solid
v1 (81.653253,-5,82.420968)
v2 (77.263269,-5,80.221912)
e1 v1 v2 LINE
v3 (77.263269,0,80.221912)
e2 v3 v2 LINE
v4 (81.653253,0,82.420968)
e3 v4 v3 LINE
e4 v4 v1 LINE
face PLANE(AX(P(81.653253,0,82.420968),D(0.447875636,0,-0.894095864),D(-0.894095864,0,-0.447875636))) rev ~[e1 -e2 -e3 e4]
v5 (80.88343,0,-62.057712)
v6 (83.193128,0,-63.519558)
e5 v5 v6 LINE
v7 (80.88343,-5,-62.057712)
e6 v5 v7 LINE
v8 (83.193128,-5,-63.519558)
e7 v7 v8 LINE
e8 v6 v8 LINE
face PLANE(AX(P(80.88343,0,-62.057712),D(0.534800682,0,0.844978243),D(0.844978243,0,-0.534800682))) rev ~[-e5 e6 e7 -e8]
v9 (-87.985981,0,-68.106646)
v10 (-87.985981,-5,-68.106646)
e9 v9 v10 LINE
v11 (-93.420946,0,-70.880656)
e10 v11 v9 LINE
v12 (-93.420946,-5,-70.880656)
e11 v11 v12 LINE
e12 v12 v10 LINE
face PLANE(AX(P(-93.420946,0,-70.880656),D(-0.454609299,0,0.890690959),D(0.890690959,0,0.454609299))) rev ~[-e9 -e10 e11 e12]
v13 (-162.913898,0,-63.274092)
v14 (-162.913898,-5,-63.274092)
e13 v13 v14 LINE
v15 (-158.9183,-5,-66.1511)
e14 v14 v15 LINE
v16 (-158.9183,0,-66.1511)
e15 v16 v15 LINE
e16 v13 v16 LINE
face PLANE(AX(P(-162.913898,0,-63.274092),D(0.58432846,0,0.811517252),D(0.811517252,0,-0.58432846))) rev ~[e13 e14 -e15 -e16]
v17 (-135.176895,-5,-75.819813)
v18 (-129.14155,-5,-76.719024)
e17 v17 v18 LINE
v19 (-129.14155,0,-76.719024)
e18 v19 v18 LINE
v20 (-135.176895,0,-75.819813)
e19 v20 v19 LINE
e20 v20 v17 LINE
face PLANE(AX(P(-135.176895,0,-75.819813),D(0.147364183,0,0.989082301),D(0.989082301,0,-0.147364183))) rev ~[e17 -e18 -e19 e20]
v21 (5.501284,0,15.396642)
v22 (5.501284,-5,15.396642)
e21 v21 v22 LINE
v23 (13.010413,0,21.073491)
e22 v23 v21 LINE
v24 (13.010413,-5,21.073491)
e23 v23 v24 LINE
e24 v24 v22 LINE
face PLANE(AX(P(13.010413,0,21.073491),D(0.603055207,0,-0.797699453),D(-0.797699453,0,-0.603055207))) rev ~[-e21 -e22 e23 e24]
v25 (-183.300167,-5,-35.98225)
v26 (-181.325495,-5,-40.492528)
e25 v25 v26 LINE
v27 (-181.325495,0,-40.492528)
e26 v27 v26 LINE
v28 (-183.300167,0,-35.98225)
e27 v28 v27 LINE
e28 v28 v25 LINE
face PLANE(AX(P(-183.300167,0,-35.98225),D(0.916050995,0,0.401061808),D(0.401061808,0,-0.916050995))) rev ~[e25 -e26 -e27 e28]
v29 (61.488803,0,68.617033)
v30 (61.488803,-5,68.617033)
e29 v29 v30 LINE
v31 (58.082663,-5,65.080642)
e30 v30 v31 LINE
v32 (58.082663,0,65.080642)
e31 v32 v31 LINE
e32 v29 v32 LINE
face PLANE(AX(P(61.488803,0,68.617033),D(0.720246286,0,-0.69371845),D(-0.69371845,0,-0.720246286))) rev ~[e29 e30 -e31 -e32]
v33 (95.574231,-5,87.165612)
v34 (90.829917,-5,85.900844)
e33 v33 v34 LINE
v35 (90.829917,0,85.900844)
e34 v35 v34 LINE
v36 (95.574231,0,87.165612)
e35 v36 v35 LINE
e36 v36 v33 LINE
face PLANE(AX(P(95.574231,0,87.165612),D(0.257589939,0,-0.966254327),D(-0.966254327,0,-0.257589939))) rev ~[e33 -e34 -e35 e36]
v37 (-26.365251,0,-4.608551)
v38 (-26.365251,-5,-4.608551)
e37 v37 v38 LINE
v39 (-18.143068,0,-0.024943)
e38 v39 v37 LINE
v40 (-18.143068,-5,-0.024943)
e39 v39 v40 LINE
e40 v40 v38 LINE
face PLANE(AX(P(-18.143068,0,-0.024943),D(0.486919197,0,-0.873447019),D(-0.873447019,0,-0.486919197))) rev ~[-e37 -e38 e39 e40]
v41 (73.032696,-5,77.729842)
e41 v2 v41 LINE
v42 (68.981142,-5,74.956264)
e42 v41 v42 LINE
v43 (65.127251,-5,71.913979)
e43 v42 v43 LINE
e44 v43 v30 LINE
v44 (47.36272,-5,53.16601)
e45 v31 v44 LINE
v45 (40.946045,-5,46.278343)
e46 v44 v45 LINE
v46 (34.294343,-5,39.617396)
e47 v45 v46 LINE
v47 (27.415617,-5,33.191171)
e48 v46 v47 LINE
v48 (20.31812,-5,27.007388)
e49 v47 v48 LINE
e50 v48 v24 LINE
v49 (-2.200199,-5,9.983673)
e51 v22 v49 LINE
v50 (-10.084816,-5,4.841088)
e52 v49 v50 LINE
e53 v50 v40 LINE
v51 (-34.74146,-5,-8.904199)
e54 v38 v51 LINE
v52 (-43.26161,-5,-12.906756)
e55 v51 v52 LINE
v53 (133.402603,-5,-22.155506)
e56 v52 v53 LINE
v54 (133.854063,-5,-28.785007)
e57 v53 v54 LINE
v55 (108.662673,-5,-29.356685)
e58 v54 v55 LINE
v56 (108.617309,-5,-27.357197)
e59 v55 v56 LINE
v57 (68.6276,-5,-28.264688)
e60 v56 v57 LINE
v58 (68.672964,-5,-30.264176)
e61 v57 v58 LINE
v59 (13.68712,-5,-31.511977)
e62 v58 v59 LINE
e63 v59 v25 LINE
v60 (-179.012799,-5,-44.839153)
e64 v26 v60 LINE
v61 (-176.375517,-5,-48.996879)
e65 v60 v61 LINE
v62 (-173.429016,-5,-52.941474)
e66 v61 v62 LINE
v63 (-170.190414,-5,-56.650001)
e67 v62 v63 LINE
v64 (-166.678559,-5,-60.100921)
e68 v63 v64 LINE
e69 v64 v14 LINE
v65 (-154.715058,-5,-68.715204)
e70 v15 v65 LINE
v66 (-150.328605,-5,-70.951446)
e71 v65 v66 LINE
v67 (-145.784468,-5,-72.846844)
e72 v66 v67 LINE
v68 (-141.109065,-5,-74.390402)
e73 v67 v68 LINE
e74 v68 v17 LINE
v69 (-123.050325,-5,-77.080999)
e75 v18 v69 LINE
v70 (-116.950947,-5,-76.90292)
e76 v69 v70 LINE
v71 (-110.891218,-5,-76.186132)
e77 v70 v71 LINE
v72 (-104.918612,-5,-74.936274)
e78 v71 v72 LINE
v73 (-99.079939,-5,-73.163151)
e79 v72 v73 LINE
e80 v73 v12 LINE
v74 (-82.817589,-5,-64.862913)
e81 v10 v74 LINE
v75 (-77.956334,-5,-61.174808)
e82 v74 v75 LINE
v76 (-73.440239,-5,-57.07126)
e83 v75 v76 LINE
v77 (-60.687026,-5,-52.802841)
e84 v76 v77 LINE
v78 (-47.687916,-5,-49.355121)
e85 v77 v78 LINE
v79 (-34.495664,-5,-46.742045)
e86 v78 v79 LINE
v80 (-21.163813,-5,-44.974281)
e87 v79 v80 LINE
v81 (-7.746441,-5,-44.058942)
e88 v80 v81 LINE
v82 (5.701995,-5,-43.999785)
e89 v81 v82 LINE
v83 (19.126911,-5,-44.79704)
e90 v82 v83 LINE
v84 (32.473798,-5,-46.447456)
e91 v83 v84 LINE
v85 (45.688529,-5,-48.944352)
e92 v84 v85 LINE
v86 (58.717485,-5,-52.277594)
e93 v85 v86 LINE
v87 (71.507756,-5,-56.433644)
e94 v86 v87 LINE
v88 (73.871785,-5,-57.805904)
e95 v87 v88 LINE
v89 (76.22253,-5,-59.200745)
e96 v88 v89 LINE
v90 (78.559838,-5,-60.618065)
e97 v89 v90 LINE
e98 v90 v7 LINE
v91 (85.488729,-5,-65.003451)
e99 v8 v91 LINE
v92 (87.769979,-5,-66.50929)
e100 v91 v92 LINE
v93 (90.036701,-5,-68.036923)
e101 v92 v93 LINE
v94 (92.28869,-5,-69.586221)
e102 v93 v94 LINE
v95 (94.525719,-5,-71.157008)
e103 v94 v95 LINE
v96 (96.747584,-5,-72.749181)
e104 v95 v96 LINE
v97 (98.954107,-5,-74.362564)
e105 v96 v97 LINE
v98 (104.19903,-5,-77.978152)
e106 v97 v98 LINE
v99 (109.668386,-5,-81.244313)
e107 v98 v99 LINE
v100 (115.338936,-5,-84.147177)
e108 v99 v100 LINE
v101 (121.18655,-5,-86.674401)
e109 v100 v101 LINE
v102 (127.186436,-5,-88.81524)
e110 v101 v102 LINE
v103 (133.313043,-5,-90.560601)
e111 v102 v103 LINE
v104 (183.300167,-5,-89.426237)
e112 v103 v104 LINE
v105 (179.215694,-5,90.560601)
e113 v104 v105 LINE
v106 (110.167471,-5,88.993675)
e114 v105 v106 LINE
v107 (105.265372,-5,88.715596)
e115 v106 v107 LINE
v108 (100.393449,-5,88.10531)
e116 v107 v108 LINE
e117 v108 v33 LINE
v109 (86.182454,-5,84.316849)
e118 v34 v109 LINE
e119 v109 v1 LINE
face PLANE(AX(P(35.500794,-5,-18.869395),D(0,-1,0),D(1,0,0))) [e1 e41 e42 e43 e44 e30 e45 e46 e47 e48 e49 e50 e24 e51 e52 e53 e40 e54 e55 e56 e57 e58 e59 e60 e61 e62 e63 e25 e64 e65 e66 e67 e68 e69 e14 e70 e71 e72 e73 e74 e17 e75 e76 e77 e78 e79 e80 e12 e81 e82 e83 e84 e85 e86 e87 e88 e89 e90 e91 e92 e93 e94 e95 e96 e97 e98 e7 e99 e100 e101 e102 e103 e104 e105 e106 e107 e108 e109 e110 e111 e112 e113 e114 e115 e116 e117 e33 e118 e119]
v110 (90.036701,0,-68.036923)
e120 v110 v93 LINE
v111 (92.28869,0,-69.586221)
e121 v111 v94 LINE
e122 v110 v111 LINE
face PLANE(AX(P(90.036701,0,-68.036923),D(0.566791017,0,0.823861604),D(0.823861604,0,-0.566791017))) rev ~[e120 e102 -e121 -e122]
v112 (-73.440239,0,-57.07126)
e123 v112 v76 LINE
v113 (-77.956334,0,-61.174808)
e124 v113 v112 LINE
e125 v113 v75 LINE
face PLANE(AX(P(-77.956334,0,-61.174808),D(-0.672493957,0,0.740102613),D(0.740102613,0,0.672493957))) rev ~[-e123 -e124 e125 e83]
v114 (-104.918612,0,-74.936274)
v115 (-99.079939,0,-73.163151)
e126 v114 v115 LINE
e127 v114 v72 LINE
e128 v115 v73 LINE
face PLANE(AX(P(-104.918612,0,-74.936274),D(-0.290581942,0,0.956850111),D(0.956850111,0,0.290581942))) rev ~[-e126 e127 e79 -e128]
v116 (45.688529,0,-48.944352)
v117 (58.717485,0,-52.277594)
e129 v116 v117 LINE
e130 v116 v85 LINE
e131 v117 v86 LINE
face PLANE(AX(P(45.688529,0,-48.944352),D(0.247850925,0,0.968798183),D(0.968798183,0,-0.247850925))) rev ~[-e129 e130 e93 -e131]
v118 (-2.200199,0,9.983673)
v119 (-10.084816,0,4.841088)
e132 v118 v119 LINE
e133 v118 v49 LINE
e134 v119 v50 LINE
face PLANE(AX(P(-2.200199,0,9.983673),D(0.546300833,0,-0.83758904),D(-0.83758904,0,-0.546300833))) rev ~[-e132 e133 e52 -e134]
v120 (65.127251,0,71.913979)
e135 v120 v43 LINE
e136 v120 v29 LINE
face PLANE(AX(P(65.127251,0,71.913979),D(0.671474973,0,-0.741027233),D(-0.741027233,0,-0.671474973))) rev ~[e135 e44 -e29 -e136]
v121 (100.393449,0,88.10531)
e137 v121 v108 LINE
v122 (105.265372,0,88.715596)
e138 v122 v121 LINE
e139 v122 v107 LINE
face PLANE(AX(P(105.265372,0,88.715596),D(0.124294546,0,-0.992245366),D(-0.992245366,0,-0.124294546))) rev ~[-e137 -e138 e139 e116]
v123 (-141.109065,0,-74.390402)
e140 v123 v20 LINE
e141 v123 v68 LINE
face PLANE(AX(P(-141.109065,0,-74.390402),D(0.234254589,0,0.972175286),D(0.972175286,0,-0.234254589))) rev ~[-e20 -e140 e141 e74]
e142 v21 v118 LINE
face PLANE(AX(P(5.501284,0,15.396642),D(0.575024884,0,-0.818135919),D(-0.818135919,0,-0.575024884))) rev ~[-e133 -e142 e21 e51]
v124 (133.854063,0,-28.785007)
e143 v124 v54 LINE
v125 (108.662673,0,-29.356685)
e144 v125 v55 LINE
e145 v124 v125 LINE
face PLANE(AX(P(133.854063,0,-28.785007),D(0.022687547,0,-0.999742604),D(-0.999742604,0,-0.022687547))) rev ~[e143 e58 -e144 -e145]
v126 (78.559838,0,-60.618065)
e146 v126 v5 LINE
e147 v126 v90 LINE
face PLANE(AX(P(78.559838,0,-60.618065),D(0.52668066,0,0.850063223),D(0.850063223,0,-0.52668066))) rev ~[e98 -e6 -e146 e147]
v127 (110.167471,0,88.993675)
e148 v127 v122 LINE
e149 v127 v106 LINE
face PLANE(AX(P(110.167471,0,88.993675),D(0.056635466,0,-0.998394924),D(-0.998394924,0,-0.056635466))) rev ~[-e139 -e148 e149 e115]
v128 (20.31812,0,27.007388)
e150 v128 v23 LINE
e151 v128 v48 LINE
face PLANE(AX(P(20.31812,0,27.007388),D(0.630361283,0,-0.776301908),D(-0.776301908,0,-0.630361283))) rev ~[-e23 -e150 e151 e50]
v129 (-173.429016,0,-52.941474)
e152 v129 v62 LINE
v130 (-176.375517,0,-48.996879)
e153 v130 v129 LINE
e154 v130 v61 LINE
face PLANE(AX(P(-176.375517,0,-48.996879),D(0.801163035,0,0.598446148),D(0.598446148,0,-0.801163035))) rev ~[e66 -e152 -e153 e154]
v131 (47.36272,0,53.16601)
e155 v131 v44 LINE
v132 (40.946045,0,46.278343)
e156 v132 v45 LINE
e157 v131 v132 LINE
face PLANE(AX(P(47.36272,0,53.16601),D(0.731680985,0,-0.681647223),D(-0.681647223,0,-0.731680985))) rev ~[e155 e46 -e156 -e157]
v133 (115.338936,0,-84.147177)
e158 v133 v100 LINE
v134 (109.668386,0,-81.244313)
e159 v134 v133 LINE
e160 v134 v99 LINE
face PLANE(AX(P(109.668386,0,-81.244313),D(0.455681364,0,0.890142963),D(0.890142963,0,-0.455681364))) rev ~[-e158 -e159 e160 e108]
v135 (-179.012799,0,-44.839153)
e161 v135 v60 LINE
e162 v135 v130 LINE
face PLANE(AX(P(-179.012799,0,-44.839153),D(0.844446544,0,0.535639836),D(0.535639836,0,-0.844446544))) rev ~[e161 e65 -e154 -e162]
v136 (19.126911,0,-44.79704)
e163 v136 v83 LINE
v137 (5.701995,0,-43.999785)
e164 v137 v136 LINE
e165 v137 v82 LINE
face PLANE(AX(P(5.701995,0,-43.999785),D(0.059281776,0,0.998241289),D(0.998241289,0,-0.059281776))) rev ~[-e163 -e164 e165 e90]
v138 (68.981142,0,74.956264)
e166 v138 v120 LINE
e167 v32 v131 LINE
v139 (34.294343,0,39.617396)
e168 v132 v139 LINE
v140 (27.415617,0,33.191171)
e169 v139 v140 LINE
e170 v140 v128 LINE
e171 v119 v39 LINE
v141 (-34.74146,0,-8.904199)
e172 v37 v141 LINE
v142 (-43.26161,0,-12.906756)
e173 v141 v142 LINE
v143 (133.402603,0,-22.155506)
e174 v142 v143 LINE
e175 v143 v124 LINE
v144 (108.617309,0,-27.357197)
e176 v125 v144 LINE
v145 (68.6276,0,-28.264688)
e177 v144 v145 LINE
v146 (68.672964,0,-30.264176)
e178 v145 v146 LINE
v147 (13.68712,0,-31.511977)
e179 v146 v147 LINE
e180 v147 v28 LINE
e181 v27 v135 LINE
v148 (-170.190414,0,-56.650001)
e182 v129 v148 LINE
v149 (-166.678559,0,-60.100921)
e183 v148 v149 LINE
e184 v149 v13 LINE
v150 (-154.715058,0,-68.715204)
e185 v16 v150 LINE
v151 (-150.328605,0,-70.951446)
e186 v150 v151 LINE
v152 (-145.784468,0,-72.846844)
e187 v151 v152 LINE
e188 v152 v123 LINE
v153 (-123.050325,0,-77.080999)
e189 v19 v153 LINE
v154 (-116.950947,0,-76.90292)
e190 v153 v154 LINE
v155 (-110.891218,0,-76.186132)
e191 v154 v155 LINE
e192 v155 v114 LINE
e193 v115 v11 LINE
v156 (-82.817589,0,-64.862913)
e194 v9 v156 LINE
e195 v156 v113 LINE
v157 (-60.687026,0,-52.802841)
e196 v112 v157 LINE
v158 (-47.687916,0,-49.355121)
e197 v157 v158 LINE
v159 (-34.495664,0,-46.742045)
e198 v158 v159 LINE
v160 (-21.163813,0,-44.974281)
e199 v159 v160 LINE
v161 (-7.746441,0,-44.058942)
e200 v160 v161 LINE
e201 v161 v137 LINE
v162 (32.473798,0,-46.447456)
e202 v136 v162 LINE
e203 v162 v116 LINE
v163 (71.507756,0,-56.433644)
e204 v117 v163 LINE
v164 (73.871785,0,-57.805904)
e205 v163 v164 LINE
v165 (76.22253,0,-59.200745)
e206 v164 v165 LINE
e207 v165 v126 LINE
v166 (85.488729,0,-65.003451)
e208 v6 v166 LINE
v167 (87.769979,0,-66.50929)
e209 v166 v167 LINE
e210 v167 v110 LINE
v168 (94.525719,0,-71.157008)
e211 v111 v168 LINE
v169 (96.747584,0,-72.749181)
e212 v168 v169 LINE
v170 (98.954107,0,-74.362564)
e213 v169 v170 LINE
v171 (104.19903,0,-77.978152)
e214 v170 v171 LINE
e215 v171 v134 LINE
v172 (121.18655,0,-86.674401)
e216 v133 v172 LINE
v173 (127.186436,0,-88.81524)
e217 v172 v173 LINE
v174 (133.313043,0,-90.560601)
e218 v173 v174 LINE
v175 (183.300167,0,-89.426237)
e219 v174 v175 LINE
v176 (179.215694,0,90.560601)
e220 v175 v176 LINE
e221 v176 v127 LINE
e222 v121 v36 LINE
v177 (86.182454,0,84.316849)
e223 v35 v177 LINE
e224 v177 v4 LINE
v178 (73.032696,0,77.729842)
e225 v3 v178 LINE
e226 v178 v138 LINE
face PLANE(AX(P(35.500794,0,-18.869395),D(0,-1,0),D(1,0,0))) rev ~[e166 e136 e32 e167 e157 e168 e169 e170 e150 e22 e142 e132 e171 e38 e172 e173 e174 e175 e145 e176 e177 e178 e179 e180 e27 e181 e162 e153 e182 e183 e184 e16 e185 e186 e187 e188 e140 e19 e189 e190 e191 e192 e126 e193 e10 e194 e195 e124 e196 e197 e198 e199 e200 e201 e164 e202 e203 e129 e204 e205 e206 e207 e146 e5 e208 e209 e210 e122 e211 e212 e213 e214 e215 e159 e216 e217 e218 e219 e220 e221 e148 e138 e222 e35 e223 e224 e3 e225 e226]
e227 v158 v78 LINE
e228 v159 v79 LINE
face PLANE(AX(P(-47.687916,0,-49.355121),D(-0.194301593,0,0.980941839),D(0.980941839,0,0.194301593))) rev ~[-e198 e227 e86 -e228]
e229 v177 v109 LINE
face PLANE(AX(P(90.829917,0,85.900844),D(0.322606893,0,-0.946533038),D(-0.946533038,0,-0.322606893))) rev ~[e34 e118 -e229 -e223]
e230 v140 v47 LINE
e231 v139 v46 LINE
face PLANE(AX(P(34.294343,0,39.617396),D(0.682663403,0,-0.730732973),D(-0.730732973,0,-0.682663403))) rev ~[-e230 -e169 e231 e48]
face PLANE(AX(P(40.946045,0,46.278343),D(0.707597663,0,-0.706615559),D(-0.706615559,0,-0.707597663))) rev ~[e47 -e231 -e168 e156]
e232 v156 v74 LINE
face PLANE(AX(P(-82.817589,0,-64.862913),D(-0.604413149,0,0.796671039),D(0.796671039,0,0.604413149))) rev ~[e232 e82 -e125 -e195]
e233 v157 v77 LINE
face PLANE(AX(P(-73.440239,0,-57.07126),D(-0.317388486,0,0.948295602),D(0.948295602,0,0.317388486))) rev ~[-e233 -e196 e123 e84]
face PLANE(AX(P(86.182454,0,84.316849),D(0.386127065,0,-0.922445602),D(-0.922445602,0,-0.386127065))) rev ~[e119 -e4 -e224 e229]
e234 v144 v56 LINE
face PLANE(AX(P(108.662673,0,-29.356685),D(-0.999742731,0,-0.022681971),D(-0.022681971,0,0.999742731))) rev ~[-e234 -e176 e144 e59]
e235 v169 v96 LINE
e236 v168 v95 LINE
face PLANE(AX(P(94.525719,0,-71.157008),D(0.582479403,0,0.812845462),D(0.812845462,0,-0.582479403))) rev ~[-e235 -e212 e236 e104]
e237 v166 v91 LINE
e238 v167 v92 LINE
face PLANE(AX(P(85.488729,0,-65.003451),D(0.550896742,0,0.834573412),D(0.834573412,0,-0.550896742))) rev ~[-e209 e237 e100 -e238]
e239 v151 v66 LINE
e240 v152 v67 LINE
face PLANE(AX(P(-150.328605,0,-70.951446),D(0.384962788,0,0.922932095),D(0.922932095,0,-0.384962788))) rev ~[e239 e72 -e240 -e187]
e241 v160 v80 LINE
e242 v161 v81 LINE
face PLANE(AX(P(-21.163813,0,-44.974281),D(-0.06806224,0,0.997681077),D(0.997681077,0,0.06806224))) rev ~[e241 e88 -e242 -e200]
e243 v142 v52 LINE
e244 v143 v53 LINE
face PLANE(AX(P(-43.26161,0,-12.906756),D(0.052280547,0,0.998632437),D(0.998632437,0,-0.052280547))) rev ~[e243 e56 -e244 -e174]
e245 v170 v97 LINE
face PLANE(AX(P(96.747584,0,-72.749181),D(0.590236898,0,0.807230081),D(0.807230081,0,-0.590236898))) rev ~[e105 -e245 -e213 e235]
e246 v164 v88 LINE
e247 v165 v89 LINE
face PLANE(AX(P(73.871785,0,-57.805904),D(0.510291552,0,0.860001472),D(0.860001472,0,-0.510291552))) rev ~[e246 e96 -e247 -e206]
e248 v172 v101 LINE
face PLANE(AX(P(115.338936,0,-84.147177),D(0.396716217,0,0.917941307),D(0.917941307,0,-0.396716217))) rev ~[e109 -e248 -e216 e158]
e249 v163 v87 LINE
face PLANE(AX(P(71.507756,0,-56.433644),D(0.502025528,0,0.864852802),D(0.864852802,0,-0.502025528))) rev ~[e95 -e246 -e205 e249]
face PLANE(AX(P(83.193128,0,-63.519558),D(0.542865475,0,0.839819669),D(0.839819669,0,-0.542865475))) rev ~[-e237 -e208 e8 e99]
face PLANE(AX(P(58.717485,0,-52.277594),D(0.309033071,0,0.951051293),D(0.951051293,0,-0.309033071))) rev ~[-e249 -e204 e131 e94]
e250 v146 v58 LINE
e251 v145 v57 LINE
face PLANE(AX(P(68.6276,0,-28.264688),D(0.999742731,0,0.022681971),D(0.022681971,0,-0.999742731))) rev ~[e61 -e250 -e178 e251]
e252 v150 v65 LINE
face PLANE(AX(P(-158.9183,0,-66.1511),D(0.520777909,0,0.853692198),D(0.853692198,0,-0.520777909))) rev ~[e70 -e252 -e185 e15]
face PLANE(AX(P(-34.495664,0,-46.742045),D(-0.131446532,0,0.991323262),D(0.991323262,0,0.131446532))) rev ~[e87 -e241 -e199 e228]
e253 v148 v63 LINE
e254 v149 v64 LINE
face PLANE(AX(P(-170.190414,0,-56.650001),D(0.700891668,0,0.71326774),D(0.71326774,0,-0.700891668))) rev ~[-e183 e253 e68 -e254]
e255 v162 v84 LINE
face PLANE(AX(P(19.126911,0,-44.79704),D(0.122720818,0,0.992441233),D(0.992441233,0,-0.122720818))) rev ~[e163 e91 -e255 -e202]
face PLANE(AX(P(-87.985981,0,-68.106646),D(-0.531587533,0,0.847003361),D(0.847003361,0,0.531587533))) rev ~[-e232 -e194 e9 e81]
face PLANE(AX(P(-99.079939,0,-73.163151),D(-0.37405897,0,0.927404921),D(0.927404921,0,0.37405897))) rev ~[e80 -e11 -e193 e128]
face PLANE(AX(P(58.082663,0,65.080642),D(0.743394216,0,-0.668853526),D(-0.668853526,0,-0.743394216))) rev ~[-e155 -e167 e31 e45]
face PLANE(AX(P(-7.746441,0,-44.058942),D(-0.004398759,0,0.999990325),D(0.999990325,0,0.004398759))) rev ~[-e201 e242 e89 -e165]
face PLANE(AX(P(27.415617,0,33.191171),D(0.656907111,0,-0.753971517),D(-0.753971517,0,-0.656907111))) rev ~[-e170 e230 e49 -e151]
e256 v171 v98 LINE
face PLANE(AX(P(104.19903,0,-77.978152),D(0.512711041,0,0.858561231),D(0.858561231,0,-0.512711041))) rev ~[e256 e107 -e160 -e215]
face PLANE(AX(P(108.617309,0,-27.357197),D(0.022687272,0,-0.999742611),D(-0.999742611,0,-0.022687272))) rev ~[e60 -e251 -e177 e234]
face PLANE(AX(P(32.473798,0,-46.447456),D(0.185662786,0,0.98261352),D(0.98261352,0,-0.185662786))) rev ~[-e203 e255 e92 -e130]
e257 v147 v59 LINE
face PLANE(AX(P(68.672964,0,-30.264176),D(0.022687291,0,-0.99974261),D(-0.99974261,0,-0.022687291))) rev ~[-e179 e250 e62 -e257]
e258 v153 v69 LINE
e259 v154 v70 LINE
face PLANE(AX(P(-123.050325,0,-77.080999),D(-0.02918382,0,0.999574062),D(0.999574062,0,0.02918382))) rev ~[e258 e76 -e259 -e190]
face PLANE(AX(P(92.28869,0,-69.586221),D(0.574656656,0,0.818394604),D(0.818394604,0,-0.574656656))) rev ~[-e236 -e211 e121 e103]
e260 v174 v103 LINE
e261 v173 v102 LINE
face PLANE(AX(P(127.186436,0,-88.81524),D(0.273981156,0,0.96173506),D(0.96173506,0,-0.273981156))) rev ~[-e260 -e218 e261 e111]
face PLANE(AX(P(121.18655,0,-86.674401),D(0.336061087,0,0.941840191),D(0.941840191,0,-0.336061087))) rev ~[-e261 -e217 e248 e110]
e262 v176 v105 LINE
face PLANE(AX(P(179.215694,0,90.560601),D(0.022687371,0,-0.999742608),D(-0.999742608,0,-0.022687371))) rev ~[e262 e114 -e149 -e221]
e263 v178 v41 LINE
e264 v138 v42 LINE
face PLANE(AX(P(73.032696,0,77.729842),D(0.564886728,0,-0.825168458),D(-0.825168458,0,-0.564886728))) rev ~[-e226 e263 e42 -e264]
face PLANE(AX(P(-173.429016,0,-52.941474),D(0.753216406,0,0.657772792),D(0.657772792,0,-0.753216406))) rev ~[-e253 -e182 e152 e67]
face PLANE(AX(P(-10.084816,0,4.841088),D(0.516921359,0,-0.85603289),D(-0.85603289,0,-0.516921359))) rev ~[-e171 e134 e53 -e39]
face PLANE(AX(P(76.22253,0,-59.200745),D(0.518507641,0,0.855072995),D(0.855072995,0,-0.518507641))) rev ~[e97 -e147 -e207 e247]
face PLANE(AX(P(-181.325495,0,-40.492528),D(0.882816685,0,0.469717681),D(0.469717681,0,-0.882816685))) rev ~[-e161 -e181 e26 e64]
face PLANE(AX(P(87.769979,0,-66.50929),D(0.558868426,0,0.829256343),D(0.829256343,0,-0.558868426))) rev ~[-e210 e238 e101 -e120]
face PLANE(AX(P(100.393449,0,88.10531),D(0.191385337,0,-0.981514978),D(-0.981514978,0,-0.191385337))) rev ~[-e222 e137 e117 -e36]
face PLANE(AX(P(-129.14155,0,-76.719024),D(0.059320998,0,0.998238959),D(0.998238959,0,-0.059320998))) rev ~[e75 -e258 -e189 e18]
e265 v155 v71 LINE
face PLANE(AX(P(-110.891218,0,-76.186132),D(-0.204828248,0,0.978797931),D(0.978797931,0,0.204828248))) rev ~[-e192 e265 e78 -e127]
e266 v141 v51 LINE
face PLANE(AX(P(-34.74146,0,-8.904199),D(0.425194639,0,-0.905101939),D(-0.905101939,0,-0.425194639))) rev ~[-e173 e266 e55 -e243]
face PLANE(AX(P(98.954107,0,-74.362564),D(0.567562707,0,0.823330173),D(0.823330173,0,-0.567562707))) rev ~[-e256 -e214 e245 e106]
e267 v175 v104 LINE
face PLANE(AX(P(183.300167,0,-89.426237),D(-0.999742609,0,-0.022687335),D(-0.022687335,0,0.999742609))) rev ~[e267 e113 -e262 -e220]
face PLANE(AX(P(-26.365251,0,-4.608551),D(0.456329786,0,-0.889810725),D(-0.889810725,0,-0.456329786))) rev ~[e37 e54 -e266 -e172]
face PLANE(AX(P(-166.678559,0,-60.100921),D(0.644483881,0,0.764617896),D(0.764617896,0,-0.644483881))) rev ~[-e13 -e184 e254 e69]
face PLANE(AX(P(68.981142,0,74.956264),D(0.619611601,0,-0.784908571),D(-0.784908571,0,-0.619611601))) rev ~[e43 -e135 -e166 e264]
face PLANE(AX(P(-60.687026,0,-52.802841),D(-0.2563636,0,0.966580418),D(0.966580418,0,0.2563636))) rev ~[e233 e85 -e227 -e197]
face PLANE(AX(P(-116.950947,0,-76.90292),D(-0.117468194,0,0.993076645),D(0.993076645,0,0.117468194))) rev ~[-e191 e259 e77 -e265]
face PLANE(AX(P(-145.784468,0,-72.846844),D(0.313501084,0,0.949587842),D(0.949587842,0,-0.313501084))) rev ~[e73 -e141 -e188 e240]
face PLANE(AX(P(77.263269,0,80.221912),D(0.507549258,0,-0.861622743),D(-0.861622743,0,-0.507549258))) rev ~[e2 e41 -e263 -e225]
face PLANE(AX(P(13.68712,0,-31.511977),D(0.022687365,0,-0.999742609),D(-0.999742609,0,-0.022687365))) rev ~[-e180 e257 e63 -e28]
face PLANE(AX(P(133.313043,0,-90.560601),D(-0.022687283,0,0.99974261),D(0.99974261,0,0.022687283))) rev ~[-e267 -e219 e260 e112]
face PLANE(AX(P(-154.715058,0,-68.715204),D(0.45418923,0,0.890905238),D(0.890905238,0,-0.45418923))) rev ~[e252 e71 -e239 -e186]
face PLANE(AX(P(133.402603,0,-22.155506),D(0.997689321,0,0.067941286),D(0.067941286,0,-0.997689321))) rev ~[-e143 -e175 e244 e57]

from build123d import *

# Parameters (mm, degrees)
F1_DEPTH = 5


with BuildPart() as f1:
    # F0 (on Front) → F1 (new body)
    with BuildSketch(Plane.XZ):
        Polygon((98.954107, -74.362564), (104.19903, -77.978152), (109.668386, -81.244313), (115.338936, -84.147177), (121.18655, -86.674401), (127.186436, -88.81524), (133.313043, -90.560601), (183.300167, -89.426237), (179.215694, 90.560601), (110.167471, 88.993675), (105.265372, 88.715596), (100.393449, 88.10531), (95.574231, 87.165612), (90.829917, 85.900844), (86.182454, 84.316849), (81.653253, 82.420968), (77.263269, 80.221912), (73.032696, 77.729842), (68.981142, 74.956264), (65.127251, 71.913979), (61.488803, 68.617033), (58.082663, 65.080642), (47.36272, 53.16601), (40.946045, 46.278343), (34.294343, 39.617396), (27.415617, 33.191171), (20.31812, 27.007388), (13.010413, 21.073491), (5.501284, 15.396642), (-2.200199, 9.983673), (-10.084816, 4.841088), (-18.143068, -0.024943), (-26.365251, -4.608551), (-34.74146, -8.904199), (-43.26161, -12.906756), (133.402603, -22.155506), (133.854063, -28.785007), (108.662673, -29.356685), (108.617309, -27.357197), (68.6276, -28.264688), (68.672964, -30.264176), (13.68712, -31.511977), (-183.300167, -35.98225), (-181.325495, -40.492528), (-179.012799, -44.839153), (-176.375517, -48.996879), (-173.429016, -52.941474), (-170.190414, -56.650001), (-166.678559, -60.100921), (-162.913898, -63.274092), (-158.9183, -66.1511), (-154.715058, -68.715204), (-150.328605, -70.951446), (-145.784468, -72.846844), (-141.109065, -74.390402), (-135.176895, -75.819813), (-129.14155, -76.719024), (-123.050325, -77.080999), (-116.950947, -76.90292), (-110.891218, -76.186132), (-104.918612, -74.936274), (-99.079939, -73.163151), (-93.420946, -70.880656), (-87.985981, -68.106646), (-82.817589, -64.862913), (-77.956334, -61.174808), (-73.440239, -57.07126), (-60.687026, -52.802841), (-47.687916, -49.355121), (-34.495664, -46.742045), (-21.163813, -44.974281), (-7.746441, -44.058942), (5.701995, -43.999785), (19.126911, -44.79704), (32.473798, -46.447456), (45.688529, -48.944352), (58.717485, -52.277594), (71.507756, -56.433644), (73.871785, -57.805904), (76.22253, -59.200745), (78.559838, -60.618065), (80.88343, -62.057712), (83.193128, -63.519558), (85.488729, -65.003451), (87.769979, -66.50929), (90.036701, -68.036923), (92.28869, -69.586221), (94.525719, -71.157008), (96.747584, -72.749181), align=None)
    extrude(amount=F1_DEPTH)


solid = f1.part
